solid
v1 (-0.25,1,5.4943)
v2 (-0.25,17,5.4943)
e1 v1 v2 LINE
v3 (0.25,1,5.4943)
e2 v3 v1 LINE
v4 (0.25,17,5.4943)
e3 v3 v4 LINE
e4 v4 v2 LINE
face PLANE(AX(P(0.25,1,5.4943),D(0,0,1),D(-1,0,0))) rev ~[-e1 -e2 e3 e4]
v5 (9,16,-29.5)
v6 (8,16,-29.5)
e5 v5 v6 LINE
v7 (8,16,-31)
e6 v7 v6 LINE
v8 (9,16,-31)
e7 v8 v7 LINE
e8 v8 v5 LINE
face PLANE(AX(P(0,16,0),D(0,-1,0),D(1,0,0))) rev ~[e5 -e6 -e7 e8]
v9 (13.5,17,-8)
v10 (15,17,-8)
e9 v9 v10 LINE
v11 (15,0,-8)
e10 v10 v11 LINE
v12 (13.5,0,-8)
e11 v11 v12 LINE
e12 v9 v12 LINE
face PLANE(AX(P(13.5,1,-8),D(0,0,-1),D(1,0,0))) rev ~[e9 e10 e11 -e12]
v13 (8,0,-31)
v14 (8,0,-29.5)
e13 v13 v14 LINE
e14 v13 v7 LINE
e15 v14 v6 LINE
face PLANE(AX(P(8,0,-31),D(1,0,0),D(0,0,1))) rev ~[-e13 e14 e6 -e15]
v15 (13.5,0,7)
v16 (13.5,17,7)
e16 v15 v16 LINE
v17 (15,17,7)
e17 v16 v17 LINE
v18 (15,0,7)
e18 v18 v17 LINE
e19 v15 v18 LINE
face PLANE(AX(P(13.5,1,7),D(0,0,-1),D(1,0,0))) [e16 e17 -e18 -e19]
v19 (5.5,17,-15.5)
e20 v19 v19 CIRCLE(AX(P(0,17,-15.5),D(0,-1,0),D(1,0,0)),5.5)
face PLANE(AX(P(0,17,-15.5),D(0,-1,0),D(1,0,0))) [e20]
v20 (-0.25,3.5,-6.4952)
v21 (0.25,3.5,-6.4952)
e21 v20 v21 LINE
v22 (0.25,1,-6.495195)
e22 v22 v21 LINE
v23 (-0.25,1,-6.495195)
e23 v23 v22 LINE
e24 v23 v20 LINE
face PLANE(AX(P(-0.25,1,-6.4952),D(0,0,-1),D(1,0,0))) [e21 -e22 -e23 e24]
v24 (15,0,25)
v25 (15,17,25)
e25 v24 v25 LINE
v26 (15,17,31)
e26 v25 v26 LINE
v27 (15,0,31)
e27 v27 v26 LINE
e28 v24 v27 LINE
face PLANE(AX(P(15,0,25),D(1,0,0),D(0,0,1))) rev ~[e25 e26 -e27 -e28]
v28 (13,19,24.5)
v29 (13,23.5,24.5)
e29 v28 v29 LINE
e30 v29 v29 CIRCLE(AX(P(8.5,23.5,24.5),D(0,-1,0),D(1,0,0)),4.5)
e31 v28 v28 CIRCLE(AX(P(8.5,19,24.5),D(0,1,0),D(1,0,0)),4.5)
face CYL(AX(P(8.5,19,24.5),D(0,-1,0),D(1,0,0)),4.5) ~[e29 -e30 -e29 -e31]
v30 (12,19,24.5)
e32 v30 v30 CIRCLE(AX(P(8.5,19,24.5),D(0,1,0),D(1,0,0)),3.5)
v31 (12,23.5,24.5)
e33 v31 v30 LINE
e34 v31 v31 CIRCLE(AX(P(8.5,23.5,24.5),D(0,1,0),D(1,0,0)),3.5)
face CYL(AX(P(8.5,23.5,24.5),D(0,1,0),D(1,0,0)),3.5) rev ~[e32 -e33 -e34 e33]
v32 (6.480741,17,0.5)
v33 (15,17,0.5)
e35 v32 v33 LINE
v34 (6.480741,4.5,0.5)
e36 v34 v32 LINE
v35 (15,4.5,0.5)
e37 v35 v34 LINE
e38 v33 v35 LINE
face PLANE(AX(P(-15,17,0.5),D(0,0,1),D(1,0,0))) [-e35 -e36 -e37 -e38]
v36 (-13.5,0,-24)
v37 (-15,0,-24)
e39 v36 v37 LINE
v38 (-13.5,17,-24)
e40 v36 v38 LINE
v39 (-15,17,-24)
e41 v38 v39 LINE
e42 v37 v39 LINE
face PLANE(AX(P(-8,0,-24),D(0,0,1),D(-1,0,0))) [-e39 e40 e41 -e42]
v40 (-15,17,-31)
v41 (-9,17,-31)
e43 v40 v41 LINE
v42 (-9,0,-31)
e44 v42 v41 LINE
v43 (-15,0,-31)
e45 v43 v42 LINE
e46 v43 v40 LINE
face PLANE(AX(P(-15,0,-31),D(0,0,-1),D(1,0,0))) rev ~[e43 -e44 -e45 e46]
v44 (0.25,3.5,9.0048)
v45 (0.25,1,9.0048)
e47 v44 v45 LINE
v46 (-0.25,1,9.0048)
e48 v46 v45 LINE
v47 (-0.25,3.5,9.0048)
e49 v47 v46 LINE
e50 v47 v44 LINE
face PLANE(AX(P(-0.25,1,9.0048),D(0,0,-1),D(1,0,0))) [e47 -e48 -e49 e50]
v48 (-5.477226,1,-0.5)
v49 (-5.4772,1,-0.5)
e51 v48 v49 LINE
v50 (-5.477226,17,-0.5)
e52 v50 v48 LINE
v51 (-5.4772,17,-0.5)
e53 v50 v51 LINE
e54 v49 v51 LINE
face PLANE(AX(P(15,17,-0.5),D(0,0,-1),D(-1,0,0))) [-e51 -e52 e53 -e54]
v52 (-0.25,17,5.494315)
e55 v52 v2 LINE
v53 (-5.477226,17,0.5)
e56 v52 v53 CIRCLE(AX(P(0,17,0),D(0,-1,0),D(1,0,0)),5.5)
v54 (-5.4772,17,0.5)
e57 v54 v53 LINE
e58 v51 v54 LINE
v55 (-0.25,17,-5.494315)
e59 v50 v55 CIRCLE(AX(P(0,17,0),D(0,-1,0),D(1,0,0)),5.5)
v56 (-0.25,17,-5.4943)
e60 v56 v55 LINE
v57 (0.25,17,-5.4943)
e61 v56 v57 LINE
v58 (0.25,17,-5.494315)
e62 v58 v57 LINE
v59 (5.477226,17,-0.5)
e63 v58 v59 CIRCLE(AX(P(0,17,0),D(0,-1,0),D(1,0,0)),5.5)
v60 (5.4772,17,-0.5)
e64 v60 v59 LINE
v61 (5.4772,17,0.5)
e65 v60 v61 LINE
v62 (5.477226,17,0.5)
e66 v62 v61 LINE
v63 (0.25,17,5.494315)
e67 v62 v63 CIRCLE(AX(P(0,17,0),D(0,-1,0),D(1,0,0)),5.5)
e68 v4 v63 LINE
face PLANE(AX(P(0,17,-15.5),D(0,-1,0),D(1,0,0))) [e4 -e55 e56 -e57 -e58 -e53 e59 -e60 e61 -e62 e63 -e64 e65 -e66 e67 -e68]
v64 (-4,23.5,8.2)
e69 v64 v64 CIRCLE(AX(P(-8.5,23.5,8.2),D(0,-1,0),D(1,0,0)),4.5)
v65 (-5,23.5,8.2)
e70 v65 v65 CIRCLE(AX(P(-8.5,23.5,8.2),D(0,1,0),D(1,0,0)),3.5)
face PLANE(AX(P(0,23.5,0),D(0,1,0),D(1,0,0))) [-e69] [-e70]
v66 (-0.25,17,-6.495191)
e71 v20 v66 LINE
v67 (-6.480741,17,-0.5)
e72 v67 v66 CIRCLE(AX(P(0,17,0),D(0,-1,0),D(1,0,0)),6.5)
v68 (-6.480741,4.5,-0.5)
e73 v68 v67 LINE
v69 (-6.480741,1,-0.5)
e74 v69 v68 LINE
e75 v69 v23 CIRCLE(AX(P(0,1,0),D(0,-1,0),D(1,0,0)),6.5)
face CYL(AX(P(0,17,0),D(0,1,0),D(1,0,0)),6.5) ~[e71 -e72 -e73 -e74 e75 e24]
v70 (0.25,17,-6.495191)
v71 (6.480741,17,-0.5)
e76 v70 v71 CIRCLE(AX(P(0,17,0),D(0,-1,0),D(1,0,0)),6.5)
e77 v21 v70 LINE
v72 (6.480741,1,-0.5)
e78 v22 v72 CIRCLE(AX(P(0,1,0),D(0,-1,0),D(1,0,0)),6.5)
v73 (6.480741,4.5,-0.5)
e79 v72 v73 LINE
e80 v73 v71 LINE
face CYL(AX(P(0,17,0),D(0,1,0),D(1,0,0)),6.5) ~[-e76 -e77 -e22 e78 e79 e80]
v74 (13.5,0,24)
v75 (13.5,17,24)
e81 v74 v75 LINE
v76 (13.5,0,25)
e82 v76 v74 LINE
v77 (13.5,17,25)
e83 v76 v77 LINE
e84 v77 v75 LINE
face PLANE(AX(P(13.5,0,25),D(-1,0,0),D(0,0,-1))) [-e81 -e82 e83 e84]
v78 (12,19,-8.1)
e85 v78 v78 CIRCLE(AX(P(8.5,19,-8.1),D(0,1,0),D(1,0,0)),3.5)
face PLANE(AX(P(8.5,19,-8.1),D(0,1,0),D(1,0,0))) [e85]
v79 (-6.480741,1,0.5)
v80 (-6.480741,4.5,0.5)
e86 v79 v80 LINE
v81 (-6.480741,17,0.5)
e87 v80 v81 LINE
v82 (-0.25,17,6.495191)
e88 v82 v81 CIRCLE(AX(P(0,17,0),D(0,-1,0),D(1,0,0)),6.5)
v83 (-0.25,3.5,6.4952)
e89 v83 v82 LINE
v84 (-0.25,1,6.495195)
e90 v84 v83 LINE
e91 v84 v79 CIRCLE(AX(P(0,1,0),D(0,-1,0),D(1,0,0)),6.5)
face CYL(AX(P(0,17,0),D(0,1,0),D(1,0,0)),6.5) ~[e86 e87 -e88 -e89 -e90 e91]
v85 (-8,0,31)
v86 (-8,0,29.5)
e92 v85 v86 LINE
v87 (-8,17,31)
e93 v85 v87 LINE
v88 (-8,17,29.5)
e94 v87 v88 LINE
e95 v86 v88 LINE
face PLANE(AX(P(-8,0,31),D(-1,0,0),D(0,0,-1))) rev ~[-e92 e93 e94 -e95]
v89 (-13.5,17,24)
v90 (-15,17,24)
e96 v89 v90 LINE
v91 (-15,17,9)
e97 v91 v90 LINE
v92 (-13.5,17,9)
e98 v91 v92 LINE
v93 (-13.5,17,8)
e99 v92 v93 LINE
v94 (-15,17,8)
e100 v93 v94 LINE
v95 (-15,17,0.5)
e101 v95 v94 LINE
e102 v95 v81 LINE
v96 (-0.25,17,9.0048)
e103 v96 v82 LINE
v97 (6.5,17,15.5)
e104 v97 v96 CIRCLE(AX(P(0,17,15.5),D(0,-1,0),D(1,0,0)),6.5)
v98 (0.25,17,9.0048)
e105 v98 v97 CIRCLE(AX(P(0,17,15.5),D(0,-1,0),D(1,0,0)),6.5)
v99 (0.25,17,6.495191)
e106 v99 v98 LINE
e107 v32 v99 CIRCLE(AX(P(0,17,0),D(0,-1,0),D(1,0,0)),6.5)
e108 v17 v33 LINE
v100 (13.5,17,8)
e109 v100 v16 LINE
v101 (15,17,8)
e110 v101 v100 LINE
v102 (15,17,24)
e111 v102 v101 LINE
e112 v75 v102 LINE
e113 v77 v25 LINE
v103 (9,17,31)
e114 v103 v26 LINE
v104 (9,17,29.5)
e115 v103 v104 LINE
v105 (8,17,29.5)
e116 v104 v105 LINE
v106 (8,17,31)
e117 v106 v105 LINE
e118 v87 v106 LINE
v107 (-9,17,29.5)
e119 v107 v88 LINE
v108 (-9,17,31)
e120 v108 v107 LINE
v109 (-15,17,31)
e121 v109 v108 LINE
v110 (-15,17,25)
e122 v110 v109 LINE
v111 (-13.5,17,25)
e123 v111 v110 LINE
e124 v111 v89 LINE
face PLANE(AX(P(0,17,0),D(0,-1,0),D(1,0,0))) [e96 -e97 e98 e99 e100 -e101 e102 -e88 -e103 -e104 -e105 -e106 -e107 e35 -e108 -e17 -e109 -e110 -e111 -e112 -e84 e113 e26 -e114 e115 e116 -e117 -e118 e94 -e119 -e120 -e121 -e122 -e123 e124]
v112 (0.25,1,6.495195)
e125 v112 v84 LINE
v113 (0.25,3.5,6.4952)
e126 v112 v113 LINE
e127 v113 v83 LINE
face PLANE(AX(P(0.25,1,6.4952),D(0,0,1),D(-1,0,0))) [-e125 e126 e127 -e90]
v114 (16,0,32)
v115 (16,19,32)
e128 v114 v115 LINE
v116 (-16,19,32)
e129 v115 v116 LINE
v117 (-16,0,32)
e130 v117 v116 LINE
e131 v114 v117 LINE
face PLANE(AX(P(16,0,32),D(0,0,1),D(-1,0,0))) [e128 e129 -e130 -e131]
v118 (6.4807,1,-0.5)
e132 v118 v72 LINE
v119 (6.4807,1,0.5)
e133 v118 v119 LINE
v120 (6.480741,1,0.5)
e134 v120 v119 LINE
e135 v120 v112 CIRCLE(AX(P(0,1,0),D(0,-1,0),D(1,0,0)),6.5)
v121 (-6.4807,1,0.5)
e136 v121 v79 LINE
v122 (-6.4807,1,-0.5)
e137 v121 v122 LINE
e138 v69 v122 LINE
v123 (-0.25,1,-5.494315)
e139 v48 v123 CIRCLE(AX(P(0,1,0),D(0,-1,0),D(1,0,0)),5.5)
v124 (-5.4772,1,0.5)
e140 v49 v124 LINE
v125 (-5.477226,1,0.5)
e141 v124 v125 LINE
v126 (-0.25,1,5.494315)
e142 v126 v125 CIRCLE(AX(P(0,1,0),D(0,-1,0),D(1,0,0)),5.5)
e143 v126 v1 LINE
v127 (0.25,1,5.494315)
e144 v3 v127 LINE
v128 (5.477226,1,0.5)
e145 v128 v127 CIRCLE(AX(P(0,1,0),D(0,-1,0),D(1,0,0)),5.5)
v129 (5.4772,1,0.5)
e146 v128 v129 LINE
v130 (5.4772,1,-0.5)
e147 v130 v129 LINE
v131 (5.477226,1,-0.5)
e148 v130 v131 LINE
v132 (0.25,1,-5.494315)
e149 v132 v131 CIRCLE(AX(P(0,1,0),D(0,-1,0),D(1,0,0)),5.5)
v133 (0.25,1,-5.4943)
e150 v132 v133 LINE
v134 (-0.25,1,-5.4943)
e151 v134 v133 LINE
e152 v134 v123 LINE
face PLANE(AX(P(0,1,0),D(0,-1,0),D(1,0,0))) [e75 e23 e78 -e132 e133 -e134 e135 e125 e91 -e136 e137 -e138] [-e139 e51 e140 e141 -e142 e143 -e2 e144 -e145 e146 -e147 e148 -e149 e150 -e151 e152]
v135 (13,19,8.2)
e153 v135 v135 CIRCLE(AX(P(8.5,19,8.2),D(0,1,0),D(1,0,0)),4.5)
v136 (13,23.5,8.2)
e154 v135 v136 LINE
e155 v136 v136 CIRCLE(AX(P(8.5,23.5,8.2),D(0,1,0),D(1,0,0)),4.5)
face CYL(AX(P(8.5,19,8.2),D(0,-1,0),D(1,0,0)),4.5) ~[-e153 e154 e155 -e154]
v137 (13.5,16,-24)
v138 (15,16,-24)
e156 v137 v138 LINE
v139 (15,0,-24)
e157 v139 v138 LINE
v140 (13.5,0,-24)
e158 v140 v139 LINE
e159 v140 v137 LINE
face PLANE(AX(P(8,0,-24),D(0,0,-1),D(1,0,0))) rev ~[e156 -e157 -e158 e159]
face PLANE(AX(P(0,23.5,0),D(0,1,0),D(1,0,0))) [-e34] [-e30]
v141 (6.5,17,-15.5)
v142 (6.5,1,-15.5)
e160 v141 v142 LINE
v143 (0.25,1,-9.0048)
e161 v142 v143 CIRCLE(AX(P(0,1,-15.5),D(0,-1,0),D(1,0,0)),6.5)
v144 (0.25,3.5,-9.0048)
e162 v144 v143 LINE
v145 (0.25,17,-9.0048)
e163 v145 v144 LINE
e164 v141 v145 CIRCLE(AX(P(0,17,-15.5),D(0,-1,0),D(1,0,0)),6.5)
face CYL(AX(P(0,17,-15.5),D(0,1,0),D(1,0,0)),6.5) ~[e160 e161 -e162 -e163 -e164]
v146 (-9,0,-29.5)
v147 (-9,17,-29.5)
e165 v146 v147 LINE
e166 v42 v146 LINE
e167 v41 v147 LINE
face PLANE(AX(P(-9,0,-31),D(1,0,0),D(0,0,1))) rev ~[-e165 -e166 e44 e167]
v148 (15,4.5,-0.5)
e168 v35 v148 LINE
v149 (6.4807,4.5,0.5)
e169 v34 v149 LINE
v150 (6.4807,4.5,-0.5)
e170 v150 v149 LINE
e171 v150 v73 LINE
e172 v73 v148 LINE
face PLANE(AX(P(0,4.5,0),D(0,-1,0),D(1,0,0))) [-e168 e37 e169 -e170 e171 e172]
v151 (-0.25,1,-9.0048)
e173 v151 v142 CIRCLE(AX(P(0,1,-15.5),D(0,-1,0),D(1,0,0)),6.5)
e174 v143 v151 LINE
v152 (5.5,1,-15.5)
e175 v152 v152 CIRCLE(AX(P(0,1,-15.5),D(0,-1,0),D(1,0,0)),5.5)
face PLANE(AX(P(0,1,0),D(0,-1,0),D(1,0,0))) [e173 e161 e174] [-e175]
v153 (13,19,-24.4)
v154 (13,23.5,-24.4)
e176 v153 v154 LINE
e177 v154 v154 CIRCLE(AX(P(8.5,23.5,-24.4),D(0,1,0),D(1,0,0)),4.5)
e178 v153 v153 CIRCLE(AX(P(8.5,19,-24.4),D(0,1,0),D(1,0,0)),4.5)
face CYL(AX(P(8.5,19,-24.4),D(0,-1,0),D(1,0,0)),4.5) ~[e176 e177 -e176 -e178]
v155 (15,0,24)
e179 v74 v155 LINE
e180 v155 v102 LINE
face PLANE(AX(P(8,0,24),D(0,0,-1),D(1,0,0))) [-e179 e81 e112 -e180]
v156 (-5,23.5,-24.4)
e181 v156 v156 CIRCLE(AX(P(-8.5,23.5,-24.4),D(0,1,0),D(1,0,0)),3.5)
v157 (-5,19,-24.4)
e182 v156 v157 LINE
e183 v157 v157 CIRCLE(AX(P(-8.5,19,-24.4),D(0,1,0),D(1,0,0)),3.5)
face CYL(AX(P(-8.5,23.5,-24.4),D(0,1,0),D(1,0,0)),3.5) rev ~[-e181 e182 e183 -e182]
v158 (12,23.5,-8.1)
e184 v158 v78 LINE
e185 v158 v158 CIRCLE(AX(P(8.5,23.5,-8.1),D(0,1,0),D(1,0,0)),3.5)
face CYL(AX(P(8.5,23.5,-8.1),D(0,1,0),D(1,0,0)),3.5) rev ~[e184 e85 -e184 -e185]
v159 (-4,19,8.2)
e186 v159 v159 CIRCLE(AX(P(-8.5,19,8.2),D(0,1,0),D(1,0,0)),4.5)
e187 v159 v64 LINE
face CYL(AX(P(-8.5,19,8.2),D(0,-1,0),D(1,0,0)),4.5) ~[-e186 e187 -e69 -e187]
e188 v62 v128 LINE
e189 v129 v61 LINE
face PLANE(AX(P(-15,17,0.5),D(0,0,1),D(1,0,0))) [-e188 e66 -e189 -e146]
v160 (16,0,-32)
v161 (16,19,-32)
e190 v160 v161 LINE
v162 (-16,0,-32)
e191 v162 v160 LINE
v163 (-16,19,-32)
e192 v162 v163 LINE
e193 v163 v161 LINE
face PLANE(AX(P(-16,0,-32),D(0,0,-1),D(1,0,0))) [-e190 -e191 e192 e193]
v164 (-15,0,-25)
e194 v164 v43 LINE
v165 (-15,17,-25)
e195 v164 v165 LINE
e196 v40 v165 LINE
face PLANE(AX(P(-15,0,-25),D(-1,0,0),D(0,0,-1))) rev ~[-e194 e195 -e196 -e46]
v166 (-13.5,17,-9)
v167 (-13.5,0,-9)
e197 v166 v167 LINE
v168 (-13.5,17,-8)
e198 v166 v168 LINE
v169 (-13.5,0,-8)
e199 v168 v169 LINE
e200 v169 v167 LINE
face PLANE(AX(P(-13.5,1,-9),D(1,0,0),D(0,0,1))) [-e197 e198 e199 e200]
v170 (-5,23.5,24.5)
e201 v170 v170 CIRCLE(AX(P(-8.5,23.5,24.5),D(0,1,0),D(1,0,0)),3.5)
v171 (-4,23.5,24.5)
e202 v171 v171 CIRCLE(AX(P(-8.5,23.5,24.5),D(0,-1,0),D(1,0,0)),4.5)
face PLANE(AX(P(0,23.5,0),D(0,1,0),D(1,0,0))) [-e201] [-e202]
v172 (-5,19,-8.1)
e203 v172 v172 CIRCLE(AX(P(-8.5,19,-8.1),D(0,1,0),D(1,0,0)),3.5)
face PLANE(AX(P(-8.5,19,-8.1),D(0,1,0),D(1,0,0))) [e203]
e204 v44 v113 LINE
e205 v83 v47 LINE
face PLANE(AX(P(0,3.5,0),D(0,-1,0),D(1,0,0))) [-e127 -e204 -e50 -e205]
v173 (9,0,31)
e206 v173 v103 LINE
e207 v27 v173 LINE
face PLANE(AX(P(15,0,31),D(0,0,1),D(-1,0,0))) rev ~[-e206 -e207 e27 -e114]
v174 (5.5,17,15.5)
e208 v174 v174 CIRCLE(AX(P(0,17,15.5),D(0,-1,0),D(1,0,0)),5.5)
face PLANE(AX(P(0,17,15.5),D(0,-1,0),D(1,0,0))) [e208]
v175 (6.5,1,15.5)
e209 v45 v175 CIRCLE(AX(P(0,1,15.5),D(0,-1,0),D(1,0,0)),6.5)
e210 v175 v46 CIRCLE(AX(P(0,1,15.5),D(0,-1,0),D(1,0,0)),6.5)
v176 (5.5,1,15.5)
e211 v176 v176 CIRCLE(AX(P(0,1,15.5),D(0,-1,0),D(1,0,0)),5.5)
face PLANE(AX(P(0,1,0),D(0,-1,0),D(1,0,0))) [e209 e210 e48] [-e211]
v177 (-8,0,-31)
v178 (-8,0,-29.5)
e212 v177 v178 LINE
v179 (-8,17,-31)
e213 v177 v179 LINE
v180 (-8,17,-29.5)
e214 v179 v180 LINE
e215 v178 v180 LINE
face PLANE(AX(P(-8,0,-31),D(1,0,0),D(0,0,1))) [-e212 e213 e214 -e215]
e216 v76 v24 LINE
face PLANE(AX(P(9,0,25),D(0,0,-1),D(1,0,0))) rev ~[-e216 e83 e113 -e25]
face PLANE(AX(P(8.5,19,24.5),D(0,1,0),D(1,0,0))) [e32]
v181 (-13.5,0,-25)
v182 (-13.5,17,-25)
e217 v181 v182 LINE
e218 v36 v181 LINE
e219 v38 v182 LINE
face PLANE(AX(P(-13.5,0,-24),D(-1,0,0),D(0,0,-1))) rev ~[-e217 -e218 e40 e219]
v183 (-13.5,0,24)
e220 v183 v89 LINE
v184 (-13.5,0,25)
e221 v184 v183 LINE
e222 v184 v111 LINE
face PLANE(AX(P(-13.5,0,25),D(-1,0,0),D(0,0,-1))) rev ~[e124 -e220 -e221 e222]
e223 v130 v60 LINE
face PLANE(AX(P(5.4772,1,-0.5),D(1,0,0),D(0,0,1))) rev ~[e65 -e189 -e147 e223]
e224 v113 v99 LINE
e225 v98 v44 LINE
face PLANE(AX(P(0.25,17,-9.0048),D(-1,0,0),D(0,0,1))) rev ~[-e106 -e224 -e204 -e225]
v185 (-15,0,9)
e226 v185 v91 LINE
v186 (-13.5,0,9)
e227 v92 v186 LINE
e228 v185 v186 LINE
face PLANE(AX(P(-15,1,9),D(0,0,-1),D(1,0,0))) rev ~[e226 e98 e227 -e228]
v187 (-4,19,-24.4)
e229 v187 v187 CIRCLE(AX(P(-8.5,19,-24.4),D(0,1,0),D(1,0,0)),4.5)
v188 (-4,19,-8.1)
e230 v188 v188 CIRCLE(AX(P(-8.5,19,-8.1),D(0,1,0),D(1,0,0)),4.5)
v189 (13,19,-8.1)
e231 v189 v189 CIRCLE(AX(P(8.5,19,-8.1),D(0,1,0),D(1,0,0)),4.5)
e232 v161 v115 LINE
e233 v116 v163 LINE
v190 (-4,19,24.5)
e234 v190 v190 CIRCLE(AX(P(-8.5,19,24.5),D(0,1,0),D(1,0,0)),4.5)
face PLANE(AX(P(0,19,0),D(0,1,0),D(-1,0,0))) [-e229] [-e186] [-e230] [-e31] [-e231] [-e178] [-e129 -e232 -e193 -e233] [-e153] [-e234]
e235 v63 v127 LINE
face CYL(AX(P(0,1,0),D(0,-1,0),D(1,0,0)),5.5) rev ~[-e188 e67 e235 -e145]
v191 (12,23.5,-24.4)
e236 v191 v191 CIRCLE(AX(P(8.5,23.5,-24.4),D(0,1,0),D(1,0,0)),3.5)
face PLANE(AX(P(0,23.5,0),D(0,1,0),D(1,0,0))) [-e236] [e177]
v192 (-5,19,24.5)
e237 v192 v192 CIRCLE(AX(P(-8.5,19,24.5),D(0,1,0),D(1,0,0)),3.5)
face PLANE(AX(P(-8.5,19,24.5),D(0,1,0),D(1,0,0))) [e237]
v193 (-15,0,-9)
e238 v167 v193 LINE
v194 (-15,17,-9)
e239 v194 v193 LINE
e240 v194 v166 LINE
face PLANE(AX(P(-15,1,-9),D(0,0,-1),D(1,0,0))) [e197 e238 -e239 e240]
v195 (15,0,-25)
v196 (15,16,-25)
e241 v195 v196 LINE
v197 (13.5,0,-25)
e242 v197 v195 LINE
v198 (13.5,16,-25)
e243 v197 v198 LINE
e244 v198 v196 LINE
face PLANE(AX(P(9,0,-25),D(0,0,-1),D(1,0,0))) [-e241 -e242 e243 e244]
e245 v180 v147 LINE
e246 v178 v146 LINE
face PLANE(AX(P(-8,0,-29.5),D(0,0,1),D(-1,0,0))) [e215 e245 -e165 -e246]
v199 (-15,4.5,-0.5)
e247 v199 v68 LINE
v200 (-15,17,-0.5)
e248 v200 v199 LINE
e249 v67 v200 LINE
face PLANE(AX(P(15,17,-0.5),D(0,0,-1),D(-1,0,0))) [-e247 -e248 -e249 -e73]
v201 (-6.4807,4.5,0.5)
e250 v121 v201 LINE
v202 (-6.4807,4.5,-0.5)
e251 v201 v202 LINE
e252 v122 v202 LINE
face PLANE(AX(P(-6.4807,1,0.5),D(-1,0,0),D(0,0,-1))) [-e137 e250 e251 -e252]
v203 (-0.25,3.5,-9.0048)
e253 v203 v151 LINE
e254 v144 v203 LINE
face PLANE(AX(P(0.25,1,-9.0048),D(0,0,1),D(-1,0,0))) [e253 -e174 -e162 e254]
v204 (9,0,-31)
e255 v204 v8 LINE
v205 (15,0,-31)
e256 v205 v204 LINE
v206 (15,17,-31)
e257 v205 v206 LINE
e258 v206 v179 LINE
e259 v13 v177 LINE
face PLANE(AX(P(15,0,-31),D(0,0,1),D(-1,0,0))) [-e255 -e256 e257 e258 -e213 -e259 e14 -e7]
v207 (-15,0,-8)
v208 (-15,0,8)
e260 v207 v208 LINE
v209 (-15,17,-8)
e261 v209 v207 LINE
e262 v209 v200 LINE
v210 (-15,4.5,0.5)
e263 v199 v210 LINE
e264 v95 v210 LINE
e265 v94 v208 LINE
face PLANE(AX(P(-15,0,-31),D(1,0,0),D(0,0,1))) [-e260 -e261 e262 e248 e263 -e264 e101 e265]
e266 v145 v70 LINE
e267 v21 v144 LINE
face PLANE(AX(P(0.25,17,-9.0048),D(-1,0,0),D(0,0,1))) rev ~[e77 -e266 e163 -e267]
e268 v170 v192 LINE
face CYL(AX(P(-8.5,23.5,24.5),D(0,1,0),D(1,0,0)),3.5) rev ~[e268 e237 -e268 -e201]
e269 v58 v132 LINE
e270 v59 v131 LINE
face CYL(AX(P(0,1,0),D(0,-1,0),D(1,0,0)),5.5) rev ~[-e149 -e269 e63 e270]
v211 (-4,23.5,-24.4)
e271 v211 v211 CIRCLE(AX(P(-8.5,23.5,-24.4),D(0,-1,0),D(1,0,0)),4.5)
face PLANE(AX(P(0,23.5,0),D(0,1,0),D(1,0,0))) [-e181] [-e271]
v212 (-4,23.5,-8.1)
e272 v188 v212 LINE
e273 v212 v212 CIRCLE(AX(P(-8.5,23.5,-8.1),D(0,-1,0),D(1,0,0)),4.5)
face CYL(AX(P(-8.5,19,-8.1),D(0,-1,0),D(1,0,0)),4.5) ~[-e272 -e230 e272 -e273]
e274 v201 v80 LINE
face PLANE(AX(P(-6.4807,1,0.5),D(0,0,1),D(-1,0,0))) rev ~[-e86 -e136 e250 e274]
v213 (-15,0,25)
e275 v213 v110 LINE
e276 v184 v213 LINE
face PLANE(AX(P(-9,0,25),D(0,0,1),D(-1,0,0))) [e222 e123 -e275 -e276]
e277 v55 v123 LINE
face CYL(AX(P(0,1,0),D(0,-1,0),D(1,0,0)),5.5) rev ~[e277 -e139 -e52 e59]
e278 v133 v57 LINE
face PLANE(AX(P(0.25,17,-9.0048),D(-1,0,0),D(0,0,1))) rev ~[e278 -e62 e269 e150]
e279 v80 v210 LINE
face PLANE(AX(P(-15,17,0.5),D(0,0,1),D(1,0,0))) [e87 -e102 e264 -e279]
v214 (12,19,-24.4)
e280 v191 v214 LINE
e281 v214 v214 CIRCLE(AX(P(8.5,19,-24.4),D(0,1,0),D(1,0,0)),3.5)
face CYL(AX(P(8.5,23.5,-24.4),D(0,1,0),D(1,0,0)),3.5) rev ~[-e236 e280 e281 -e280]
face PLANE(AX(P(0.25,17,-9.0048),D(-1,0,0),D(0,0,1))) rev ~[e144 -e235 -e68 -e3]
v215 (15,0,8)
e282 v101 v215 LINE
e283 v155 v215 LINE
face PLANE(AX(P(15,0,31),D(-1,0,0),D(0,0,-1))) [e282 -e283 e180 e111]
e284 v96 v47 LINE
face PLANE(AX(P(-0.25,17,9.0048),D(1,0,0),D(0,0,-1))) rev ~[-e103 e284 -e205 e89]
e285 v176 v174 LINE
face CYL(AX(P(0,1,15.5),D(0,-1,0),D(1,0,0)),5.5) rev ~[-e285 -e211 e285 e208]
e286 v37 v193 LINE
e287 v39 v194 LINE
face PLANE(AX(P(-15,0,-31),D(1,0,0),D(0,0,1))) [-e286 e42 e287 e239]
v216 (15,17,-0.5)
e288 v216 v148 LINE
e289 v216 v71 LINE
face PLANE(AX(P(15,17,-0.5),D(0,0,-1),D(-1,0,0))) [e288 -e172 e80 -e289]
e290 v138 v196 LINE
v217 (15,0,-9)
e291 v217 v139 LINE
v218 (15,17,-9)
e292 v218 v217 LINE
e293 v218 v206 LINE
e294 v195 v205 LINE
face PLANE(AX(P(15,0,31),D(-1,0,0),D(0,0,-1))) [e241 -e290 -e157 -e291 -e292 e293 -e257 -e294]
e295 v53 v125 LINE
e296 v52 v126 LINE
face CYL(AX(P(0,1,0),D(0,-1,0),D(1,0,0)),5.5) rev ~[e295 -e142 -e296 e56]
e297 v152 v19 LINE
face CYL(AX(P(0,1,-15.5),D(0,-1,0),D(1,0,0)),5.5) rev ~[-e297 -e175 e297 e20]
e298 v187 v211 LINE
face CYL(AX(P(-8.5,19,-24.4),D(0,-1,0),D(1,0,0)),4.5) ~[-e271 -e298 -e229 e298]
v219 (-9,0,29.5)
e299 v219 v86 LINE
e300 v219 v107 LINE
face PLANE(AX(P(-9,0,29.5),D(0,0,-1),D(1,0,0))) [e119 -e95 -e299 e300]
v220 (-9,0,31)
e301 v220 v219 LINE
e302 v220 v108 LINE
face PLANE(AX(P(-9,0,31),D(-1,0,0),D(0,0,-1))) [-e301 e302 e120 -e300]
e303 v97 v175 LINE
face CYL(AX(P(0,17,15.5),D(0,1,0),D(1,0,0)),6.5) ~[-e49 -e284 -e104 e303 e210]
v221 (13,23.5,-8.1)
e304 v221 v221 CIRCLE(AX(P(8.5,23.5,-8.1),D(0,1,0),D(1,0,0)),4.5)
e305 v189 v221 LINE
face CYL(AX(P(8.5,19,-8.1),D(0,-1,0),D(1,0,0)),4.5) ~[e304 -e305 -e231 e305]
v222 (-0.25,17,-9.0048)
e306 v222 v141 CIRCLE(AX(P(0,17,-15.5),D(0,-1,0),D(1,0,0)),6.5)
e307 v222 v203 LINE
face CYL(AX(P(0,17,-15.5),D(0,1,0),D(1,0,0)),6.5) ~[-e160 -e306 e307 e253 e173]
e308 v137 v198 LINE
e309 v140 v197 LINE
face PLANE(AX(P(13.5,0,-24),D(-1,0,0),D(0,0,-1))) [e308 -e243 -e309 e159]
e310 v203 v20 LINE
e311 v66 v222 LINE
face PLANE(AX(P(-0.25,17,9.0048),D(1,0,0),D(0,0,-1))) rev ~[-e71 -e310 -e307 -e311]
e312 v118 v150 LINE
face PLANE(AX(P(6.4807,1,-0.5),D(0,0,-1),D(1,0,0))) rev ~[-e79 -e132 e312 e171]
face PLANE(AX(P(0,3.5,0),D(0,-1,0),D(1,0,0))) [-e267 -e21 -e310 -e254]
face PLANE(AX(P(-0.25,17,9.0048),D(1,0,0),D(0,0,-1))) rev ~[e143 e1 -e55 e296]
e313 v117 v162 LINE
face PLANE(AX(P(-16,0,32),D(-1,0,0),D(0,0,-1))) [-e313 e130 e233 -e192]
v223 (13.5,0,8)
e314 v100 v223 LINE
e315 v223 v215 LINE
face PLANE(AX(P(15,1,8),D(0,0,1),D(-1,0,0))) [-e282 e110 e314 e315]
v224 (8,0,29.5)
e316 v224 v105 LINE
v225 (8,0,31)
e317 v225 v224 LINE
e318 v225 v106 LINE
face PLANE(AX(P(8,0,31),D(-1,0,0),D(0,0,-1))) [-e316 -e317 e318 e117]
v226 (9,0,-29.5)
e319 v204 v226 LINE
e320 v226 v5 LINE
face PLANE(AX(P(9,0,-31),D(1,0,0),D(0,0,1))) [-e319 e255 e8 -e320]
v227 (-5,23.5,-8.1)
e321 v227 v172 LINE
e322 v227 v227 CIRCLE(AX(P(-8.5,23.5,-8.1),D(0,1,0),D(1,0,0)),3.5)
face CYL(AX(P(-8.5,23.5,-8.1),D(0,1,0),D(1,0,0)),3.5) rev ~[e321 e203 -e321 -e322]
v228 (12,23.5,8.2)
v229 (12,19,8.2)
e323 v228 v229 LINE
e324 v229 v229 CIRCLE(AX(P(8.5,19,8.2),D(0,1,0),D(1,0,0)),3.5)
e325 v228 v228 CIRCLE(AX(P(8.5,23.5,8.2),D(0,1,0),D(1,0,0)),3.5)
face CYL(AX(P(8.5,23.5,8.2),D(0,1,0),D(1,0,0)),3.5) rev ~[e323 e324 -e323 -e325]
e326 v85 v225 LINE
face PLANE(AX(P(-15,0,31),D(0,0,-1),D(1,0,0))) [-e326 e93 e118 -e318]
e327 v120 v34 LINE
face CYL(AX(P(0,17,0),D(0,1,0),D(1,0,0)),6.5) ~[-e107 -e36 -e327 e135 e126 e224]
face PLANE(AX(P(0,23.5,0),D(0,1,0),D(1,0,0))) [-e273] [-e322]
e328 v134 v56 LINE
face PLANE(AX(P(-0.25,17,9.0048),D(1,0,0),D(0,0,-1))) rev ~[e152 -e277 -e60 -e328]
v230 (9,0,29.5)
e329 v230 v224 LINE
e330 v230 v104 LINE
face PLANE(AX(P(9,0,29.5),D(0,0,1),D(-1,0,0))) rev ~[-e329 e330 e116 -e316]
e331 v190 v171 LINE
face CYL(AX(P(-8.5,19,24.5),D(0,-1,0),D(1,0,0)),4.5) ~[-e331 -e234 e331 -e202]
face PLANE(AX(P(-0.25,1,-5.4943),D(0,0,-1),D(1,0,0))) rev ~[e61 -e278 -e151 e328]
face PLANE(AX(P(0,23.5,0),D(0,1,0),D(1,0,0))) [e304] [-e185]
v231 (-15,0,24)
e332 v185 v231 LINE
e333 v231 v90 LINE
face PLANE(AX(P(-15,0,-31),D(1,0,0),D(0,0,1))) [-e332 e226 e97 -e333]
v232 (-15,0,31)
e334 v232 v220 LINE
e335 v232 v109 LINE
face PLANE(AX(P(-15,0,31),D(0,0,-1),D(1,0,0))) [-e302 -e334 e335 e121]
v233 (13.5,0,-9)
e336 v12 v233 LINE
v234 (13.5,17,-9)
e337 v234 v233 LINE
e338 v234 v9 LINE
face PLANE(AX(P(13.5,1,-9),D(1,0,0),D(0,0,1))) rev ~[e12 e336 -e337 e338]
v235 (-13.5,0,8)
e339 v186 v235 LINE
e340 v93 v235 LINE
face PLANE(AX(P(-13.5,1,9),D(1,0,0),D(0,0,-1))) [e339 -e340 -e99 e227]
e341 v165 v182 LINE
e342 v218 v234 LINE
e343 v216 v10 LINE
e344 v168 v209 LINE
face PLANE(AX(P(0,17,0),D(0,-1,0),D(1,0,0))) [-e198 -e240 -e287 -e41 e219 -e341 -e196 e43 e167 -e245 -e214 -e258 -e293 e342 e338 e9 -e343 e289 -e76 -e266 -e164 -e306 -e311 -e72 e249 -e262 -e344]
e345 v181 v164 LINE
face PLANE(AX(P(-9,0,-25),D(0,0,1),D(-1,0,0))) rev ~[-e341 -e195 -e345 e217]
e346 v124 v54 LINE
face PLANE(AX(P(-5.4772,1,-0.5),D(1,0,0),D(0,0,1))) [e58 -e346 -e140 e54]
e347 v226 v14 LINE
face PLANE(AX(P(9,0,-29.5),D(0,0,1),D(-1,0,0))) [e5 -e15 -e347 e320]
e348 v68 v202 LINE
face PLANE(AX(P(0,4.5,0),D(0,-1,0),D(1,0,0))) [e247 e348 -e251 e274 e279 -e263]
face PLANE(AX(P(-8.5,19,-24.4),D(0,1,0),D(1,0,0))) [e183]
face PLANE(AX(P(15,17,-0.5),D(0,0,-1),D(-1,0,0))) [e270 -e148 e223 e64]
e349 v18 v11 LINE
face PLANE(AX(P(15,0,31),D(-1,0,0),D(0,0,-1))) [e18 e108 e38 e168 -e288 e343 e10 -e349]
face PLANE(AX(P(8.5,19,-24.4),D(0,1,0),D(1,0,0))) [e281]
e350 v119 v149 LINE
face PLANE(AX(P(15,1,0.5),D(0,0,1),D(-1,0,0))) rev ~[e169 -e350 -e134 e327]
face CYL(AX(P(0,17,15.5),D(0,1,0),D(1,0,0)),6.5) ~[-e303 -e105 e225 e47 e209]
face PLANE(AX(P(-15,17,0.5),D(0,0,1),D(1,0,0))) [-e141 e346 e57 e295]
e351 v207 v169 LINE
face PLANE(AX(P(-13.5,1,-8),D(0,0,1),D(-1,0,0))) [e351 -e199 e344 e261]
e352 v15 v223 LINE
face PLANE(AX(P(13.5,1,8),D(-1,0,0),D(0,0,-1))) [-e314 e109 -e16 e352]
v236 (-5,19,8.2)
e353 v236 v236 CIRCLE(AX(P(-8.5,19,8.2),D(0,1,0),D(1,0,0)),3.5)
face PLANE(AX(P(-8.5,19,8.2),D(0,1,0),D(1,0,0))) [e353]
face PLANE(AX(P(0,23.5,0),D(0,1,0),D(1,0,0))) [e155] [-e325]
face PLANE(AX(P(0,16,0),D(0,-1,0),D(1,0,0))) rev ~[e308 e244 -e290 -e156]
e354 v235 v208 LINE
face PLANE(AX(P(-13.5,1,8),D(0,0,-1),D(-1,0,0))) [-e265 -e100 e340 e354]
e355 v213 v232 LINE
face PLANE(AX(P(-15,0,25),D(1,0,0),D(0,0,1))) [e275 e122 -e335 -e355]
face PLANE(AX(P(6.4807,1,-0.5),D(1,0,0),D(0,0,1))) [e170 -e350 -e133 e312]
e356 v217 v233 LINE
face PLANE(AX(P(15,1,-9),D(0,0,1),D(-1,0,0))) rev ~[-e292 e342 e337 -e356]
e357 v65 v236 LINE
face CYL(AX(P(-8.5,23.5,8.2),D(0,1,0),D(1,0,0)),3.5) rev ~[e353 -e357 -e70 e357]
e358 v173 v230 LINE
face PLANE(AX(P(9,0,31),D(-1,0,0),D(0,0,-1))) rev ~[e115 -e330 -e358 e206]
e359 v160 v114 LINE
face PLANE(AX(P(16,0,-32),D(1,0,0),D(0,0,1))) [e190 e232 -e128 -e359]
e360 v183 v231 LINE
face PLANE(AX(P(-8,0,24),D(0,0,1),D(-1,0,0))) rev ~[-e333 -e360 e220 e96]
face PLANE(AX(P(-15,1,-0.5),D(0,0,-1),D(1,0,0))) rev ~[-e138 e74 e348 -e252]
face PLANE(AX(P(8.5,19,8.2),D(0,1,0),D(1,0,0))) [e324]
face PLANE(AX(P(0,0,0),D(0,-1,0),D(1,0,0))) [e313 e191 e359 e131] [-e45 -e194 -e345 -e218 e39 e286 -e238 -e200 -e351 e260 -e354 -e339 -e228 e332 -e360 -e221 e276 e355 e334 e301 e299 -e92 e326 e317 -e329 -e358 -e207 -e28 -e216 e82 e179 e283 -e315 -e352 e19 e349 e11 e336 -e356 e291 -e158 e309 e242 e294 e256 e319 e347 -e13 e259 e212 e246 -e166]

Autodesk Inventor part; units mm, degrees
ref_plane "YZ Plane" through (0, 0, 0) normal (1, 0, 0) x (0, 1, 0)
ref_plane "XZ Plane" through (0, 0, 0) normal (0, 1, 0) x (-1, 0, 0)
ref_plane "XY Plane" through (0, 0, 0) normal (0, 0, 1) x (1, 0, 0)
sketch "Sketch1" plane through (0, 0, 0) normal (0, 1, 0) x (-1, 0, 0)
  line L0 (-16, 32) -> (16, 32)
  line L1 (16, 32) -> (16, -32)
  line L2 (16, -32) -> (-16, -32)
  line L3 (-16, -32) -> (-16, 32)
  line L4 (-16, 32) -> (16, -32) construction
  line L5 (16, 32) -> (-16, -32) construction
  point P0 (0, 0)
  dimension "d0" = 32
  dimension "d1" = 64
extrude "Extrusion1" add sketch "Sketch1" along normal blind 19
sketch "Sketch2" plane through (0, 19, 0) normal (0, 1, 0) x (1, 0, 0)
  line L0 (-16, -32) -> (16, -32) projected
  line L1 (16, -32) -> (16, 32) projected
  line L2 (16, 32) -> (-16, 32) projected
  line L3 (-16, 32) -> (-16, -32) projected
  line L4 (-13, -29) -> (13, -29)
  line L5 (13, -29) -> (13, 29)
  line L6 (13, 29) -> (-13, 29)
  line L7 (-13, 29) -> (-13, -29)
  circle A0 centre (-8.5, -24.5) radius 4.5
  circle A1 centre (8.5, -24.5) radius 4.5
  line L8 (-16, 32) -> (-16, -32) projected
  circle A2 centre (-8.5, -8.2) radius 4.5
  circle A3 centre (-8.5, 8.1) radius 4.5
  circle A4 centre (-8.5, 24.4) radius 4.5
  circle A5 centre (8.5, -8.2) radius 4.5
  circle A6 centre (8.5, 8.1) radius 4.5
  circle A7 centre (8.5, 24.4) radius 4.5
  point P0 (0, 0)
  dimension "d4" = 3
  dimension "d5" = 9
  dimension "d6" = 9
  dimension "d9" = 16.3
  dimension "d16" = 16.3
extrude "Extrusion2" add sketch "Sketch2" along normal blind 4.5 contours A5 | A6 | A7 | A4 | A3 | A2 | A0 | A1
sketch "Sketch3" plane through (-8.5, 23.5, 24.5) normal (0, 1, 0) x (1, 0, 0)
  circle A0 centre (0, 0) radius 3.5
  point P0 (8.5, 24.5)
  dimension "d23" = 7
extrude "Extrusion3" cut sketch "Sketch3" against normal blind 4.5
sketch "Sketch4" plane through (-8.5, 23.5, 8.2) normal (0, 1, 0) x (1, 0, 0)
  circle A0 centre (0, 0) radius 3.5
  point P0 (8.5, 8.2)
  dimension "d26" = 7
extrude "Extrusion4" cut sketch "Sketch4" against normal blind 4.5
sketch "Sketch5" plane through (-8.5, 23.5, -8.1) normal (0, 1, 0) x (1, 0, 0)
  circle A0 centre (0, 0) radius 3.5
  point P0 (8.5, -8.1)
  dimension "d29" = 7
extrude "Extrusion5" cut sketch "Sketch5" against normal blind 4.5
sketch "Sketch6" plane through (-8.5, 23.5, -24.4) normal (0, 1, 0) x (1, 0, 0)
  circle A0 centre (0, 0) radius 3.5
  point P0 (8.5, -24.4)
  dimension "d32" = 7
extrude "Extrusion6" cut sketch "Sketch6" against normal blind 4.5
sketch "Sketch7" plane through (8.5, 23.5, 24.5) normal (0, 1, 0) x (1, 0, 0)
  circle A0 centre (0, 0) radius 3.5
  point P0 (-8.5, 24.5)
  dimension "d35" = 7
extrude "Extrusion7" cut sketch "Sketch7" against normal blind 4.5
sketch "Sketch8" plane through (8.5, 23.5, 8.2) normal (0, 1, 0) x (1, 0, 0)
  circle A0 centre (0, 0) radius 4.5 projected
  circle A1 centre (0, 0) radius 3.5
  point P0 (-8.5, 8.2)
  dimension "d38" = 7
extrude "Extrusion8" cut sketch "Sketch8" against normal blind 4.5 contours A1
sketch "Sketch9" plane through (8.5, 23.5, -8.1) normal (0, 1, 0) x (1, 0, 0)
  circle A0 centre (0, 0) radius 3.5
  point P0 (-8.5, -8.1)
  dimension "d41" = 7
extrude "Extrusion9" cut sketch "Sketch9" against normal blind 4.5
sketch "Sketch10" plane through (8.5, 23.5, -24.4) normal (0, 1, 0) x (1, 0, 0)
  circle A0 centre (0, 0) radius 3.5
  point P0 (-8.5, -24.4)
  dimension "d44" = 7
extrude "Extrusion10" cut sketch "Sketch10" against normal blind 4.5
sketch "Sketch11" plane through (0, 0, 0) normal (0, -1, 0) x (1, 0, 0)
  line L0 (16, 32) -> (-16, 32) projected
  line L1 (-16, 32) -> (-16, -32) projected
  line L2 (-16, -32) -> (16, -32) projected
  line L3 (16, -32) -> (16, 32) projected
  line L4 (15, -31) -> (-15, -31)
  line L5 (-15, -31) -> (-15, 31)
  line L6 (-15, 31) -> (15, 31)
  line L7 (15, 31) -> (15, -31)
  point P0 (0, 0)
  dimension "d47" = 1
extrude "Extrusion11" cut sketch "Sketch11" against normal blind 17 contours L4 L5 L6 L7
sketch "Sketch12" plane through (0, 17, 0) normal (0, -1, 0) x (1, 0, 0)
  circle A0 centre (0, 0) radius 6.5
  line L0 (15, -31) -> (-15, -31) projected
  line L1 (15, 31) -> (15, -31) projected
  line L2 (-15, 31) -> (15, 31) projected
  line L3 (-15, -31) -> (-15, 31) projected
  circle A1 centre (0, -15.5) radius 6.5
  circle A2 centre (0, 15.5) radius 6.5
  dimension "d50" = 13
  dimension "d53" = 15.5
  dimension "d60" = 15.5
extrude "Extrusion12" add sketch "Sketch12" along normal blind 16 contours A0 | A1 | A2
sketch "Sketch13" plane through (0, 1, -15.5) normal (0, -1, 0) x (1, 0, 0)
  circle A0 centre (0, 0) radius 5.5
  circle A1 centre (0, 15.5) radius 5.5
  dimension "d67" = 11
  dimension "d68" = 11
extrude "Extrusion13" cut sketch "Sketch13" against normal blind 16
sketch "Sketch14" plane through (0, 1, 15.5) normal (0, -1, 0) x (1, 0, 0)
  circle A0 centre (0, 0) radius 6.5 projected
  circle A1 centre (0, 0) radius 5.5
  point P0 (0, -15.5)
  dimension "d71" = 11
extrude "Extrusion14" cut sketch "Sketch14" against normal blind 16 contours A1
sketch "Sketch15" plane through (0, 17, 0) normal (0, -1, 0) x (1, 0, 0)
  line L0 (-15, 0.5) -> (15, 0.5)
  line L1 (15, 0.5) -> (15, -0.5)
  line L2 (15, -0.5) -> (-15, -0.5)
  line L3 (-15, -0.5) -> (-15, 0.5)
  line L4 (-15, 0.5) -> (15, -0.5) construction
  line L5 (15, 0.5) -> (-15, -0.5) construction
  point P0 (0, 0)
  dimension "d74" = 30
  dimension "d75" = 1
extrude "Extrusion15" add sketch "Sketch15" along normal blind 16
sketch "Sketch16" plane through (0, 1, 0) normal (0, -1, 0) x (1, 0, 0)
  arc A0 (5.4772, 0.5) -> (-5.4772, 0.5) centre (0, 0) ccw projected
  arc A1 (-5.4772, -0.5) -> (5.4772, -0.5) centre (0, 0) ccw projected
  line L0 (5.4772, 0.5) -> (5.4772, -0.5)
  line L1 (-5.4772, -0.5) -> (5.4772, -0.5) projected
  line L2 (-5.4772, 0.5) -> (-5.4772, -0.5)
  line L3 (-5.4772, -0.5) -> (5.4772, -0.5)
  line L4 (5.4772, 0.5) -> (-5.4772, 0.5) projected
  line L5 (5.4772, -0.5) -> (5.4772, 0.5)
extrude "Extrusion16" add sketch "Sketch16" against normal blind 16 contours L0 L1 L2 L4
sketch "Sketch17" plane through (0, 1, 0) normal (0, -1, 0) x (1, 0, 0)
  line L0 (5.4772, 0.5) -> (-5.4772, 0.5) projected
  line L1 (-5.4772, 0.5) -> (5.4772, 0.5)
  arc A0 (-5.4772, -0.5) -> (5.4772, -0.5) centre (0, 0) ccw projected
  arc A1 (5.4772, 0.5) -> (-5.4772, 0.5) centre (0, 0) ccw projected
  line L2 (5.4772, 0.5) -> (-5.4772, -0.5)
  line L3 (-5.4772, -0.5) -> (5.4772, -0.5) projected
  line L4 (-5.4772, -0.5) -> (-5.4772, 0.5)
  line L5 (5.4772, -0.5) -> (5.4772, 0.5)
extrude "Extrusion17" cut sketch "Sketch17" against normal blind 16 contours L2 L4 L0 | L5 L3 L2
sketch "Sketch18" plane through (0, 17, 0) normal (0, -1, 0) x (1, 0, 0)
  circle A0 centre (0, 15.5) radius 6.5 projected
  line L0 (-0.25, -9.0048) -> (0.25, -9.0048)
  line L1 (0.25, -9.0048) -> (0.25, 9.0048)
  line L2 (0.25, 9.0048) -> (-0.25, 9.0048)
  line L3 (-0.25, 9.0048) -> (-0.25, -9.0048)
  line L4 (-0.25, -9.0048) -> (0.25, 9.0048) construction
  line L5 (0.25, -9.0048) -> (-0.25, 9.0048) construction
  point P0 (0, 0)
  dimension "d82" = 0.5
extrude "Extrusion18" add sketch "Sketch18" along normal blind 16 contours L2 A0 | A0 L1 L0 L3 picked at (-0.0278, 9.0034)
sketch "Sketch19" plane through (0, 1, 0) normal (0, -1, 0) x (1, 0, 0)
  line L0 (0.25, 5.4943) -> (0.25, -5.4943) projected
  line L1 (-0.25, -5.4943) -> (0.25, -5.4943)
  line L2 (0.25, -5.4943) -> (0.25, 5.4943)
  line L3 (0.25, 5.4943) -> (-0.25, 5.4943)
  line L4 (-0.25, 5.4943) -> (-0.25, -5.4943)
  line L5 (-0.25, -5.4943) -> (0.25, 5.4943) construction
  line L6 (0.25, -5.4943) -> (-0.25, 5.4943) construction
  point P0 (0, 0)
extrude "Extrusion19" cut sketch "Sketch19" against normal blind 16
sketch "Sketch20" plane through (0, 0, 0) normal (0, -1, 0) x (1, 0, 0)
  line L0 (15, -31) -> (-15, -31) projected
  line L1 (15, -31) -> (8, -31)
  line L2 (8, -31) -> (8, -24)
  line L3 (8, -24) -> (15, -24)
  line L4 (15, -24) -> (15, -31)
  point P0 (0, 0)
  dimension "d87" = 7
  dimension "d88" = 7
extrude "Extrusion20" add sketch "Sketch20" against normal blind 16
sketch "Sketch21" plane through (0, 0, 0) normal (0, -1, 0) x (1, 0, 0)
  line L0 (15, -31) -> (-15, -31) projected
  line L1 (15, -31) -> (9, -31)
  line L2 (9, -31) -> (9, -25)
  line L3 (9, -25) -> (15, -25)
  line L4 (15, -25) -> (15, -31)
  point P0 (0, 0)
  dimension "d91" = 6
  dimension "d92" = 6
extrude "Extrusion21" cut sketch "Sketch21" against normal blind 16
sketch "Sketch22" plane through (0, 1, 0) normal (0, -1, 0) x (1, 0, 0)
  line L0 (-0.25, 6.4952) -> (-0.25, 9.0048) projected
  line L1 (0.25, 9.0048) -> (0.25, 6.4952) projected
  line L2 (-0.25, 9.0048) -> (0.25, 9.0048)
  line L3 (0.25, 9.0048) -> (0.25, 6.4952)
  line L4 (0.25, 6.4952) -> (-0.25, 6.4952)
  line L5 (-0.25, 6.4952) -> (-0.25, 9.0048)
  point P0 (0, 0)
extrude "Extrusion22" cut sketch "Sketch22" against normal blind 2.5
sketch "Sketch23" plane through (0, 1, 0) normal (0, -1, 0) x (1, 0, 0)
  arc A0 (-6.4807, -0.5) -> (-0.25, -6.4952) centre (0, 0) ccw projected
  arc A1 (-0.25, -9.0048) -> (0.25, -9.0048) centre (0, -15.5) ccw projected
  line L0 (-0.25, -6.4952) -> (0.25, -6.4952)
  line L1 (0.25, -6.4952) -> (0.25, -9.0048)
  line L2 (0.25, -9.0048) -> (-0.25, -9.0048)
  line L3 (-0.25, -9.0048) -> (-0.25, -6.4952)
extrude "Extrusion23" cut sketch "Sketch23" against normal blind 2.5 contours L3 L0 L1 L2
sketch "Sketch24" plane through (0, 1, 0) normal (0, -1, 0) x (1, 0, 0)
  line L0 (-6.4807, 0.5) -> (-15, 0.5) projected
  line L1 (-15, -0.5) -> (-6.4807, -0.5) projected
  line L2 (-15, 0.5) -> (-6.4807, 0.5)
  line L3 (-6.4807, 0.5) -> (-6.4807, -0.5)
  line L4 (-6.4807, -0.5) -> (-15, -0.5)
  line L5 (-15, -0.5) -> (-15, 0.5)
  point P0 (0, 0)
extrude "Extrusion24" cut sketch "Sketch24" against normal blind 3.5
sketch "Sketch25" plane through (0, 1, 0) normal (0, -1, 0) x (1, 0, 0)
  line L0 (15, 0.5) -> (6.4807, 0.5) projected
  line L1 (6.4807, -0.5) -> (15, -0.5) projected
  line L2 (6.4807, 0.5) -> (15, 0.5)
  line L3 (15, 0.5) -> (15, -0.5)
  line L4 (15, -0.5) -> (6.4807, -0.5)
  line L5 (6.4807, -0.5) -> (6.4807, 0.5)
  point P0 (0, 0)
extrude "Extrusion25" cut sketch "Sketch25" against normal blind 3.5
sketch "Sketch26" plane through (0, 0, 0) normal (0, -1, 0) x (1, 0, 0)
  line L0 (-15, 31) -> (15, 31) projected
  line L1 (15, 31) -> (8, 31)
  line L2 (8, 31) -> (8, 24)
  line L3 (8, 24) -> (15, 24)
  line L4 (15, 24) -> (15, 31)
  point P0 (0, 0)
  dimension "d103" = 7
  dimension "d104" = 7
extrude "Extrusion26" add sketch "Sketch26" against normal blind 18
sketch "Sketch27" plane through (0, 0, 0) normal (0, -1, 0) x (1, 0, 0)
  line L0 (-15, 0.5) -> (-15, 31) projected
  line L1 (-15, 31) -> (-8, 31)
  line L2 (-8, 31) -> (-8, 24)
  line L3 (-8, 24) -> (-15, 24)
  line L4 (-15, 24) -> (-15, 31)
  point P0 (0, 0)
  dimension "d107" = 7
  dimension "d108" = 7
extrude "Extrusion27" add sketch "Sketch27" against normal blind 18
sketch "Sketch28" plane through (0, 0, 0) normal (0, -1, 0) x (1, 0, 0)
  line L0 (-15, -31) -> (-15, -0.5) projected
  line L1 (-15, -31) -> (-8, -31)
  line L2 (-8, -31) -> (-8, -24)
  line L3 (-8, -24) -> (-15, -24)
  line L4 (-15, -24) -> (-15, -31)
  point P0 (0, 0)
  dimension "d111" = 7
  dimension "d112" = 7
extrude "Extrusion28" add sketch "Sketch28" against normal blind 18
sketch "Sketch29" plane through (0, 0, 0) normal (0, -1, 0) x (1, 0, 0)
  line L0 (15, 31) -> (9, 31)
  line L1 (9, 31) -> (9, 25)
  line L2 (9, 25) -> (15, 25)
  line L3 (15, 25) -> (15, 31)
  line L4 (-15, 31) -> (-9, 31)
  line L5 (-9, 31) -> (-9, 25)
  line L6 (-9, 25) -> (-15, 25)
  line L7 (-15, 25) -> (-15, 31)
  line L8 (-15, -31) -> (-9, -31)
  line L9 (-9, -31) -> (-9, -25)
  line L10 (-9, -25) -> (-15, -25)
  line L11 (-15, -25) -> (-15, -31)
  point P0 (0, 0)
  dimension "d115" = 6
  dimension "d116" = 6
  dimension "d117" = 6
  dimension "d118" = 6
  dimension "d119" = 6
extrude "Extrusion29" cut sketch "Sketch29" against normal blind 18
sketch "Sketch30" plane through (0, 0, 0) normal (0, -1, 0) x (1, 0, 0)
  line L0 (-8, -24) -> (-15, -24) projected
  line L1 (-15, -25) -> (-9, -25) projected
  line L2 (-8, -24) -> (-13.5, -24)
  line L3 (-13.5, -24) -> (-13.5, -25)
  line L4 (-13.5, -25) -> (-8, -25)
  line L5 (-8, -25) -> (-8, -24)
  point P0 (0, 0)
  dimension "d122" = 5.5
extrude "Extrusion30" cut sketch "Sketch30" against normal blind 17
sketch "Sketch31" plane through (0, 0, 0) normal (0, -1, 0) x (1, 0, 0)
  line L0 (-9, -25) -> (-13.5, -25) projected
  line L1 (-9, -25) -> (-8, -25)
  line L2 (-8, -25) -> (-8, -29.5)
  line L3 (-8, -29.5) -> (-9, -29.5)
  line L4 (-9, -29.5) -> (-9, -25)
  point P0 (0, 0)
  dimension "d125" = 1
  dimension "d126" = 4.5
extrude "Extrusion31" cut sketch "Sketch31" against normal blind 17
sketch "Sketch32" plane through (0, 0, 0) normal (0, -1, 0) x (1, 0, 0)
  line L0 (8, -24) -> (15, -24) projected
  line L1 (9, -25) -> (15, -25) projected
  line L2 (8, -24) -> (13.5, -24)
  line L3 (13.5, -24) -> (13.5, -25)
  line L4 (13.5, -25) -> (8, -25)
  line L5 (8, -25) -> (8, -24)
  point P0 (0, 0)
  dimension "d129" = 5.5
extrude "Extrusion32" cut sketch "Sketch32" against normal blind 17
sketch "Sketch33" plane through (0, 0, 0) normal (0, -1, 0) x (1, 0, 0)
  line L0 (8, -25) -> (9, -25)
  line L1 (9, -25) -> (9, -29.5)
  line L2 (9, -29.5) -> (8, -29.5)
  line L3 (8, -29.5) -> (8, -25)
  point P0 (0, 0)
  dimension "d132" = 1
  dimension "d133" = 4.5
extrude "Extrusion33" cut sketch "Sketch33" against normal blind 17
sketch "Sketch34" plane through (0, 0, 0) normal (0, -1, 0) x (1, 0, 0)
  line L0 (8, 24) -> (15, 24) projected
  line L1 (8, 24) -> (9, 24)
  line L2 (9, 24) -> (9, 29.5)
  line L3 (9, 29.5) -> (8, 29.5)
  line L4 (8, 29.5) -> (8, 24)
  point P0 (0, 0)
  dimension "d136" = 1
  dimension "d137" = 5.5
extrude "Extrusion34" cut sketch "Sketch34" against normal blind 17
sketch "Sketch35" plane through (0, 0, 0) normal (0, -1, 0) x (1, 0, 0)
  line L0 (15, 25) -> (9, 25) projected
  line L1 (15, 24) -> (9, 24) projected
  line L2 (9, 25) -> (13.5, 25)
  line L3 (13.5, 25) -> (13.5, 24)
  line L4 (13.5, 24) -> (9, 24)
  line L5 (9, 24) -> (9, 25)
  point P0 (0, 0)
  dimension "d140" = 4.5
extrude "Extrusion35" cut sketch "Sketch35" against normal blind 17
sketch "Sketch36" plane through (0, 0, 0) normal (0, -1, 0) x (1, 0, 0)
  line L0 (-8, 31) -> (-8, 24) projected
  line L1 (-8, 24) -> (-9, 24)
  line L2 (-9, 24) -> (-9, 29.5)
  line L3 (-9, 29.5) -> (-8, 29.5)
  line L4 (-8, 29.5) -> (-8, 24)
  point P0 (0, 0)
  dimension "d143" = 1
  dimension "d144" = 5.5
extrude "Extrusion36" cut sketch "Sketch36" against normal blind 17
sketch "Sketch37" plane through (0, 0, 0) normal (0, -1, 0) x (1, 0, 0)
  line L0 (-9, 25) -> (-9, 29.5) projected
  line L1 (-9, 24) -> (-15, 24) projected
  line L2 (-9, 25) -> (-13.5, 25)
  line L3 (-13.5, 25) -> (-13.5, 24)
  line L4 (-13.5, 24) -> (-9, 24)
  line L5 (-9, 24) -> (-9, 25)
  point P0 (0, 0)
  dimension "d147" = 4.5
extrude "Extrusion37" cut sketch "Sketch37" against normal blind 17
sketch "Sketch40" plane through (0, 18, 0) normal (0, -1, 0) x (1, 0, 0)
  line L0 (-9, 31) -> (-9, 25) projected
  line L1 (-15, 31) -> (-9, 31) projected
  line L2 (-9, 25) -> (-15, 25)
  line L3 (-15, 25) -> (-15, 31)
  line L4 (-15, 31) -> (-9, 31)
  line L5 (-9, 31) -> (-9, 25)
  point P0 (0, 0)
extrude "Extrusion38" add sketch "Sketch40" along normal blind 1
sketch "Sketch41" plane through (0, 18, 0) normal (0, -1, 0) x (1, 0, 0)
  line L0 (9, 29.5) -> (9, 25) projected
  line L1 (9, 31) -> (15, 31) projected
  line L2 (9, 25) -> (15, 25)
  line L3 (15, 25) -> (15, 31)
  line L4 (15, 31) -> (9, 31)
  line L5 (9, 31) -> (9, 25)
  point P0 (0, 0)
extrude "Extrusion39" add sketch "Sketch41" along normal blind 1
sketch "Sketch42" plane through (0, 18, 0) normal (0, -1, 0) x (1, 0, 0)
  line L0 (-15, -25) -> (-9, -25) projected
  line L1 (-15, -31) -> (-15, -25) projected
  line L2 (-9, -25) -> (-15, -25)
  line L3 (-15, -25) -> (-15, -31)
  line L4 (-15, -31) -> (-9, -31)
  line L5 (-9, -31) -> (-9, -25)
  point P0 (0, 0)
extrude "Extrusion40" add sketch "Sketch42" along normal blind 1
sketch "Sketch43" plane through (0, 1, 0) normal (0, -1, 0) x (1, 0, 0)
  line L0 (9, 31) -> (15, 31) projected
  line L1 (15, 31) -> (15, 8)
  line L2 (15, 24) -> (15, 0.5) projected
  line L3 (15, 8) -> (13.5, 8)
  line L4 (13.5, 8) -> (13.5, 7)
  line L5 (13.5, 7) -> (15, 7)
  line L6 (15, 7) -> (15, 8)
  line L7 (-15, 31) -> (-9, 31) projected
  line L8 (-15, 31) -> (-15, 9)
  line L9 (-15, 0.5) -> (-15, 24) projected
  line L10 (-15, 9) -> (-13.5, 9)
  line L11 (-13.5, 9) -> (-13.5, 8)
  line L12 (-13.5, 8) -> (-15, 8)
  line L13 (-15, 8) -> (-15, 9)
  line L14 (15, -0.5) -> (15, -31) projected
  line L15 (15, -31) -> (15, -9)
  line L16 (15, -9) -> (13.5, -9)
  line L17 (13.5, -9) -> (13.5, -8)
  line L18 (13.5, -8) -> (15, -8)
  line L19 (15, -8) -> (15, -9)
  line L20 (-15, -31) -> (-15, -25) projected
  line L21 (-15, -31) -> (-15, -9)
  line L22 (-15, -24) -> (-15, -0.5) projected
  line L23 (-15, -9) -> (-13.5, -9)
  line L24 (-13.5, -9) -> (-13.5, -8)
  line L25 (-13.5, -8) -> (-15, -8)
  line L26 (-15, -8) -> (-15, -9)
  point P0 (0, 0)
  dimension "d156" = 23
  dimension "d157" = 1.5
  dimension "d158" = 1
  dimension "d159" = 22
  dimension "d160" = 1.5
  dimension "d161" = 1
  dimension "d162" = 22
  dimension "d163" = 1.5
  dimension "d164" = 1
  dimension "d165" = 1.5
  dimension "d166" = 1
extrude "Extrusion41" add sketch "Sketch43" against normal blind 18
sketch "Sketch44" plane through (0, 1, 0) normal (0, -1, 0) x (1, 0, 0)
  line L0 (13.5, 7) -> (15, 7) projected
  line L1 (13.5, 8) -> (15, 8)
  line L2 (15, 8) -> (15, 7)
  line L3 (15, 7) -> (13.5, 7)
  line L4 (13.5, 7) -> (13.5, 8)
  line L5 (15, -9) -> (13.5, -9) projected
  line L6 (13.5, -9) -> (15, -9)
  line L7 (15, -9) -> (15, -8)
  line L8 (15, -8) -> (13.5, -8)
  line L9 (13.5, -8) -> (13.5, -9)
  line L10 (-13.5, -9) -> (-15, -9) projected
  line L11 (-15, -8) -> (-13.5, -8)
  line L12 (-13.5, -8) -> (-13.5, -9)
  line L13 (-13.5, -9) -> (-15, -9)
  line L14 (-15, -9) -> (-15, -8)
  line L15 (-13.5, 8) -> (-15, 8)
  line L16 (-15, 8) -> (-15, 9)
  line L17 (-15, 9) -> (-13.5, 9)
  line L18 (-13.5, 9) -> (-13.5, 8)
  point P0 (0, 0)
  dimension "d169" = 1.5
  dimension "d170" = 1
  dimension "d171" = 1.5
  dimension "d172" = 1
extrude "Extrusion42" add sketch "Sketch44" along normal blind 1
sketch "Sketch45" plane through (0, 17, 0) normal (0, -1, 0) x (1, 0, 0)
  point P0 (0, 0)
properties part number "klarDupplo"
